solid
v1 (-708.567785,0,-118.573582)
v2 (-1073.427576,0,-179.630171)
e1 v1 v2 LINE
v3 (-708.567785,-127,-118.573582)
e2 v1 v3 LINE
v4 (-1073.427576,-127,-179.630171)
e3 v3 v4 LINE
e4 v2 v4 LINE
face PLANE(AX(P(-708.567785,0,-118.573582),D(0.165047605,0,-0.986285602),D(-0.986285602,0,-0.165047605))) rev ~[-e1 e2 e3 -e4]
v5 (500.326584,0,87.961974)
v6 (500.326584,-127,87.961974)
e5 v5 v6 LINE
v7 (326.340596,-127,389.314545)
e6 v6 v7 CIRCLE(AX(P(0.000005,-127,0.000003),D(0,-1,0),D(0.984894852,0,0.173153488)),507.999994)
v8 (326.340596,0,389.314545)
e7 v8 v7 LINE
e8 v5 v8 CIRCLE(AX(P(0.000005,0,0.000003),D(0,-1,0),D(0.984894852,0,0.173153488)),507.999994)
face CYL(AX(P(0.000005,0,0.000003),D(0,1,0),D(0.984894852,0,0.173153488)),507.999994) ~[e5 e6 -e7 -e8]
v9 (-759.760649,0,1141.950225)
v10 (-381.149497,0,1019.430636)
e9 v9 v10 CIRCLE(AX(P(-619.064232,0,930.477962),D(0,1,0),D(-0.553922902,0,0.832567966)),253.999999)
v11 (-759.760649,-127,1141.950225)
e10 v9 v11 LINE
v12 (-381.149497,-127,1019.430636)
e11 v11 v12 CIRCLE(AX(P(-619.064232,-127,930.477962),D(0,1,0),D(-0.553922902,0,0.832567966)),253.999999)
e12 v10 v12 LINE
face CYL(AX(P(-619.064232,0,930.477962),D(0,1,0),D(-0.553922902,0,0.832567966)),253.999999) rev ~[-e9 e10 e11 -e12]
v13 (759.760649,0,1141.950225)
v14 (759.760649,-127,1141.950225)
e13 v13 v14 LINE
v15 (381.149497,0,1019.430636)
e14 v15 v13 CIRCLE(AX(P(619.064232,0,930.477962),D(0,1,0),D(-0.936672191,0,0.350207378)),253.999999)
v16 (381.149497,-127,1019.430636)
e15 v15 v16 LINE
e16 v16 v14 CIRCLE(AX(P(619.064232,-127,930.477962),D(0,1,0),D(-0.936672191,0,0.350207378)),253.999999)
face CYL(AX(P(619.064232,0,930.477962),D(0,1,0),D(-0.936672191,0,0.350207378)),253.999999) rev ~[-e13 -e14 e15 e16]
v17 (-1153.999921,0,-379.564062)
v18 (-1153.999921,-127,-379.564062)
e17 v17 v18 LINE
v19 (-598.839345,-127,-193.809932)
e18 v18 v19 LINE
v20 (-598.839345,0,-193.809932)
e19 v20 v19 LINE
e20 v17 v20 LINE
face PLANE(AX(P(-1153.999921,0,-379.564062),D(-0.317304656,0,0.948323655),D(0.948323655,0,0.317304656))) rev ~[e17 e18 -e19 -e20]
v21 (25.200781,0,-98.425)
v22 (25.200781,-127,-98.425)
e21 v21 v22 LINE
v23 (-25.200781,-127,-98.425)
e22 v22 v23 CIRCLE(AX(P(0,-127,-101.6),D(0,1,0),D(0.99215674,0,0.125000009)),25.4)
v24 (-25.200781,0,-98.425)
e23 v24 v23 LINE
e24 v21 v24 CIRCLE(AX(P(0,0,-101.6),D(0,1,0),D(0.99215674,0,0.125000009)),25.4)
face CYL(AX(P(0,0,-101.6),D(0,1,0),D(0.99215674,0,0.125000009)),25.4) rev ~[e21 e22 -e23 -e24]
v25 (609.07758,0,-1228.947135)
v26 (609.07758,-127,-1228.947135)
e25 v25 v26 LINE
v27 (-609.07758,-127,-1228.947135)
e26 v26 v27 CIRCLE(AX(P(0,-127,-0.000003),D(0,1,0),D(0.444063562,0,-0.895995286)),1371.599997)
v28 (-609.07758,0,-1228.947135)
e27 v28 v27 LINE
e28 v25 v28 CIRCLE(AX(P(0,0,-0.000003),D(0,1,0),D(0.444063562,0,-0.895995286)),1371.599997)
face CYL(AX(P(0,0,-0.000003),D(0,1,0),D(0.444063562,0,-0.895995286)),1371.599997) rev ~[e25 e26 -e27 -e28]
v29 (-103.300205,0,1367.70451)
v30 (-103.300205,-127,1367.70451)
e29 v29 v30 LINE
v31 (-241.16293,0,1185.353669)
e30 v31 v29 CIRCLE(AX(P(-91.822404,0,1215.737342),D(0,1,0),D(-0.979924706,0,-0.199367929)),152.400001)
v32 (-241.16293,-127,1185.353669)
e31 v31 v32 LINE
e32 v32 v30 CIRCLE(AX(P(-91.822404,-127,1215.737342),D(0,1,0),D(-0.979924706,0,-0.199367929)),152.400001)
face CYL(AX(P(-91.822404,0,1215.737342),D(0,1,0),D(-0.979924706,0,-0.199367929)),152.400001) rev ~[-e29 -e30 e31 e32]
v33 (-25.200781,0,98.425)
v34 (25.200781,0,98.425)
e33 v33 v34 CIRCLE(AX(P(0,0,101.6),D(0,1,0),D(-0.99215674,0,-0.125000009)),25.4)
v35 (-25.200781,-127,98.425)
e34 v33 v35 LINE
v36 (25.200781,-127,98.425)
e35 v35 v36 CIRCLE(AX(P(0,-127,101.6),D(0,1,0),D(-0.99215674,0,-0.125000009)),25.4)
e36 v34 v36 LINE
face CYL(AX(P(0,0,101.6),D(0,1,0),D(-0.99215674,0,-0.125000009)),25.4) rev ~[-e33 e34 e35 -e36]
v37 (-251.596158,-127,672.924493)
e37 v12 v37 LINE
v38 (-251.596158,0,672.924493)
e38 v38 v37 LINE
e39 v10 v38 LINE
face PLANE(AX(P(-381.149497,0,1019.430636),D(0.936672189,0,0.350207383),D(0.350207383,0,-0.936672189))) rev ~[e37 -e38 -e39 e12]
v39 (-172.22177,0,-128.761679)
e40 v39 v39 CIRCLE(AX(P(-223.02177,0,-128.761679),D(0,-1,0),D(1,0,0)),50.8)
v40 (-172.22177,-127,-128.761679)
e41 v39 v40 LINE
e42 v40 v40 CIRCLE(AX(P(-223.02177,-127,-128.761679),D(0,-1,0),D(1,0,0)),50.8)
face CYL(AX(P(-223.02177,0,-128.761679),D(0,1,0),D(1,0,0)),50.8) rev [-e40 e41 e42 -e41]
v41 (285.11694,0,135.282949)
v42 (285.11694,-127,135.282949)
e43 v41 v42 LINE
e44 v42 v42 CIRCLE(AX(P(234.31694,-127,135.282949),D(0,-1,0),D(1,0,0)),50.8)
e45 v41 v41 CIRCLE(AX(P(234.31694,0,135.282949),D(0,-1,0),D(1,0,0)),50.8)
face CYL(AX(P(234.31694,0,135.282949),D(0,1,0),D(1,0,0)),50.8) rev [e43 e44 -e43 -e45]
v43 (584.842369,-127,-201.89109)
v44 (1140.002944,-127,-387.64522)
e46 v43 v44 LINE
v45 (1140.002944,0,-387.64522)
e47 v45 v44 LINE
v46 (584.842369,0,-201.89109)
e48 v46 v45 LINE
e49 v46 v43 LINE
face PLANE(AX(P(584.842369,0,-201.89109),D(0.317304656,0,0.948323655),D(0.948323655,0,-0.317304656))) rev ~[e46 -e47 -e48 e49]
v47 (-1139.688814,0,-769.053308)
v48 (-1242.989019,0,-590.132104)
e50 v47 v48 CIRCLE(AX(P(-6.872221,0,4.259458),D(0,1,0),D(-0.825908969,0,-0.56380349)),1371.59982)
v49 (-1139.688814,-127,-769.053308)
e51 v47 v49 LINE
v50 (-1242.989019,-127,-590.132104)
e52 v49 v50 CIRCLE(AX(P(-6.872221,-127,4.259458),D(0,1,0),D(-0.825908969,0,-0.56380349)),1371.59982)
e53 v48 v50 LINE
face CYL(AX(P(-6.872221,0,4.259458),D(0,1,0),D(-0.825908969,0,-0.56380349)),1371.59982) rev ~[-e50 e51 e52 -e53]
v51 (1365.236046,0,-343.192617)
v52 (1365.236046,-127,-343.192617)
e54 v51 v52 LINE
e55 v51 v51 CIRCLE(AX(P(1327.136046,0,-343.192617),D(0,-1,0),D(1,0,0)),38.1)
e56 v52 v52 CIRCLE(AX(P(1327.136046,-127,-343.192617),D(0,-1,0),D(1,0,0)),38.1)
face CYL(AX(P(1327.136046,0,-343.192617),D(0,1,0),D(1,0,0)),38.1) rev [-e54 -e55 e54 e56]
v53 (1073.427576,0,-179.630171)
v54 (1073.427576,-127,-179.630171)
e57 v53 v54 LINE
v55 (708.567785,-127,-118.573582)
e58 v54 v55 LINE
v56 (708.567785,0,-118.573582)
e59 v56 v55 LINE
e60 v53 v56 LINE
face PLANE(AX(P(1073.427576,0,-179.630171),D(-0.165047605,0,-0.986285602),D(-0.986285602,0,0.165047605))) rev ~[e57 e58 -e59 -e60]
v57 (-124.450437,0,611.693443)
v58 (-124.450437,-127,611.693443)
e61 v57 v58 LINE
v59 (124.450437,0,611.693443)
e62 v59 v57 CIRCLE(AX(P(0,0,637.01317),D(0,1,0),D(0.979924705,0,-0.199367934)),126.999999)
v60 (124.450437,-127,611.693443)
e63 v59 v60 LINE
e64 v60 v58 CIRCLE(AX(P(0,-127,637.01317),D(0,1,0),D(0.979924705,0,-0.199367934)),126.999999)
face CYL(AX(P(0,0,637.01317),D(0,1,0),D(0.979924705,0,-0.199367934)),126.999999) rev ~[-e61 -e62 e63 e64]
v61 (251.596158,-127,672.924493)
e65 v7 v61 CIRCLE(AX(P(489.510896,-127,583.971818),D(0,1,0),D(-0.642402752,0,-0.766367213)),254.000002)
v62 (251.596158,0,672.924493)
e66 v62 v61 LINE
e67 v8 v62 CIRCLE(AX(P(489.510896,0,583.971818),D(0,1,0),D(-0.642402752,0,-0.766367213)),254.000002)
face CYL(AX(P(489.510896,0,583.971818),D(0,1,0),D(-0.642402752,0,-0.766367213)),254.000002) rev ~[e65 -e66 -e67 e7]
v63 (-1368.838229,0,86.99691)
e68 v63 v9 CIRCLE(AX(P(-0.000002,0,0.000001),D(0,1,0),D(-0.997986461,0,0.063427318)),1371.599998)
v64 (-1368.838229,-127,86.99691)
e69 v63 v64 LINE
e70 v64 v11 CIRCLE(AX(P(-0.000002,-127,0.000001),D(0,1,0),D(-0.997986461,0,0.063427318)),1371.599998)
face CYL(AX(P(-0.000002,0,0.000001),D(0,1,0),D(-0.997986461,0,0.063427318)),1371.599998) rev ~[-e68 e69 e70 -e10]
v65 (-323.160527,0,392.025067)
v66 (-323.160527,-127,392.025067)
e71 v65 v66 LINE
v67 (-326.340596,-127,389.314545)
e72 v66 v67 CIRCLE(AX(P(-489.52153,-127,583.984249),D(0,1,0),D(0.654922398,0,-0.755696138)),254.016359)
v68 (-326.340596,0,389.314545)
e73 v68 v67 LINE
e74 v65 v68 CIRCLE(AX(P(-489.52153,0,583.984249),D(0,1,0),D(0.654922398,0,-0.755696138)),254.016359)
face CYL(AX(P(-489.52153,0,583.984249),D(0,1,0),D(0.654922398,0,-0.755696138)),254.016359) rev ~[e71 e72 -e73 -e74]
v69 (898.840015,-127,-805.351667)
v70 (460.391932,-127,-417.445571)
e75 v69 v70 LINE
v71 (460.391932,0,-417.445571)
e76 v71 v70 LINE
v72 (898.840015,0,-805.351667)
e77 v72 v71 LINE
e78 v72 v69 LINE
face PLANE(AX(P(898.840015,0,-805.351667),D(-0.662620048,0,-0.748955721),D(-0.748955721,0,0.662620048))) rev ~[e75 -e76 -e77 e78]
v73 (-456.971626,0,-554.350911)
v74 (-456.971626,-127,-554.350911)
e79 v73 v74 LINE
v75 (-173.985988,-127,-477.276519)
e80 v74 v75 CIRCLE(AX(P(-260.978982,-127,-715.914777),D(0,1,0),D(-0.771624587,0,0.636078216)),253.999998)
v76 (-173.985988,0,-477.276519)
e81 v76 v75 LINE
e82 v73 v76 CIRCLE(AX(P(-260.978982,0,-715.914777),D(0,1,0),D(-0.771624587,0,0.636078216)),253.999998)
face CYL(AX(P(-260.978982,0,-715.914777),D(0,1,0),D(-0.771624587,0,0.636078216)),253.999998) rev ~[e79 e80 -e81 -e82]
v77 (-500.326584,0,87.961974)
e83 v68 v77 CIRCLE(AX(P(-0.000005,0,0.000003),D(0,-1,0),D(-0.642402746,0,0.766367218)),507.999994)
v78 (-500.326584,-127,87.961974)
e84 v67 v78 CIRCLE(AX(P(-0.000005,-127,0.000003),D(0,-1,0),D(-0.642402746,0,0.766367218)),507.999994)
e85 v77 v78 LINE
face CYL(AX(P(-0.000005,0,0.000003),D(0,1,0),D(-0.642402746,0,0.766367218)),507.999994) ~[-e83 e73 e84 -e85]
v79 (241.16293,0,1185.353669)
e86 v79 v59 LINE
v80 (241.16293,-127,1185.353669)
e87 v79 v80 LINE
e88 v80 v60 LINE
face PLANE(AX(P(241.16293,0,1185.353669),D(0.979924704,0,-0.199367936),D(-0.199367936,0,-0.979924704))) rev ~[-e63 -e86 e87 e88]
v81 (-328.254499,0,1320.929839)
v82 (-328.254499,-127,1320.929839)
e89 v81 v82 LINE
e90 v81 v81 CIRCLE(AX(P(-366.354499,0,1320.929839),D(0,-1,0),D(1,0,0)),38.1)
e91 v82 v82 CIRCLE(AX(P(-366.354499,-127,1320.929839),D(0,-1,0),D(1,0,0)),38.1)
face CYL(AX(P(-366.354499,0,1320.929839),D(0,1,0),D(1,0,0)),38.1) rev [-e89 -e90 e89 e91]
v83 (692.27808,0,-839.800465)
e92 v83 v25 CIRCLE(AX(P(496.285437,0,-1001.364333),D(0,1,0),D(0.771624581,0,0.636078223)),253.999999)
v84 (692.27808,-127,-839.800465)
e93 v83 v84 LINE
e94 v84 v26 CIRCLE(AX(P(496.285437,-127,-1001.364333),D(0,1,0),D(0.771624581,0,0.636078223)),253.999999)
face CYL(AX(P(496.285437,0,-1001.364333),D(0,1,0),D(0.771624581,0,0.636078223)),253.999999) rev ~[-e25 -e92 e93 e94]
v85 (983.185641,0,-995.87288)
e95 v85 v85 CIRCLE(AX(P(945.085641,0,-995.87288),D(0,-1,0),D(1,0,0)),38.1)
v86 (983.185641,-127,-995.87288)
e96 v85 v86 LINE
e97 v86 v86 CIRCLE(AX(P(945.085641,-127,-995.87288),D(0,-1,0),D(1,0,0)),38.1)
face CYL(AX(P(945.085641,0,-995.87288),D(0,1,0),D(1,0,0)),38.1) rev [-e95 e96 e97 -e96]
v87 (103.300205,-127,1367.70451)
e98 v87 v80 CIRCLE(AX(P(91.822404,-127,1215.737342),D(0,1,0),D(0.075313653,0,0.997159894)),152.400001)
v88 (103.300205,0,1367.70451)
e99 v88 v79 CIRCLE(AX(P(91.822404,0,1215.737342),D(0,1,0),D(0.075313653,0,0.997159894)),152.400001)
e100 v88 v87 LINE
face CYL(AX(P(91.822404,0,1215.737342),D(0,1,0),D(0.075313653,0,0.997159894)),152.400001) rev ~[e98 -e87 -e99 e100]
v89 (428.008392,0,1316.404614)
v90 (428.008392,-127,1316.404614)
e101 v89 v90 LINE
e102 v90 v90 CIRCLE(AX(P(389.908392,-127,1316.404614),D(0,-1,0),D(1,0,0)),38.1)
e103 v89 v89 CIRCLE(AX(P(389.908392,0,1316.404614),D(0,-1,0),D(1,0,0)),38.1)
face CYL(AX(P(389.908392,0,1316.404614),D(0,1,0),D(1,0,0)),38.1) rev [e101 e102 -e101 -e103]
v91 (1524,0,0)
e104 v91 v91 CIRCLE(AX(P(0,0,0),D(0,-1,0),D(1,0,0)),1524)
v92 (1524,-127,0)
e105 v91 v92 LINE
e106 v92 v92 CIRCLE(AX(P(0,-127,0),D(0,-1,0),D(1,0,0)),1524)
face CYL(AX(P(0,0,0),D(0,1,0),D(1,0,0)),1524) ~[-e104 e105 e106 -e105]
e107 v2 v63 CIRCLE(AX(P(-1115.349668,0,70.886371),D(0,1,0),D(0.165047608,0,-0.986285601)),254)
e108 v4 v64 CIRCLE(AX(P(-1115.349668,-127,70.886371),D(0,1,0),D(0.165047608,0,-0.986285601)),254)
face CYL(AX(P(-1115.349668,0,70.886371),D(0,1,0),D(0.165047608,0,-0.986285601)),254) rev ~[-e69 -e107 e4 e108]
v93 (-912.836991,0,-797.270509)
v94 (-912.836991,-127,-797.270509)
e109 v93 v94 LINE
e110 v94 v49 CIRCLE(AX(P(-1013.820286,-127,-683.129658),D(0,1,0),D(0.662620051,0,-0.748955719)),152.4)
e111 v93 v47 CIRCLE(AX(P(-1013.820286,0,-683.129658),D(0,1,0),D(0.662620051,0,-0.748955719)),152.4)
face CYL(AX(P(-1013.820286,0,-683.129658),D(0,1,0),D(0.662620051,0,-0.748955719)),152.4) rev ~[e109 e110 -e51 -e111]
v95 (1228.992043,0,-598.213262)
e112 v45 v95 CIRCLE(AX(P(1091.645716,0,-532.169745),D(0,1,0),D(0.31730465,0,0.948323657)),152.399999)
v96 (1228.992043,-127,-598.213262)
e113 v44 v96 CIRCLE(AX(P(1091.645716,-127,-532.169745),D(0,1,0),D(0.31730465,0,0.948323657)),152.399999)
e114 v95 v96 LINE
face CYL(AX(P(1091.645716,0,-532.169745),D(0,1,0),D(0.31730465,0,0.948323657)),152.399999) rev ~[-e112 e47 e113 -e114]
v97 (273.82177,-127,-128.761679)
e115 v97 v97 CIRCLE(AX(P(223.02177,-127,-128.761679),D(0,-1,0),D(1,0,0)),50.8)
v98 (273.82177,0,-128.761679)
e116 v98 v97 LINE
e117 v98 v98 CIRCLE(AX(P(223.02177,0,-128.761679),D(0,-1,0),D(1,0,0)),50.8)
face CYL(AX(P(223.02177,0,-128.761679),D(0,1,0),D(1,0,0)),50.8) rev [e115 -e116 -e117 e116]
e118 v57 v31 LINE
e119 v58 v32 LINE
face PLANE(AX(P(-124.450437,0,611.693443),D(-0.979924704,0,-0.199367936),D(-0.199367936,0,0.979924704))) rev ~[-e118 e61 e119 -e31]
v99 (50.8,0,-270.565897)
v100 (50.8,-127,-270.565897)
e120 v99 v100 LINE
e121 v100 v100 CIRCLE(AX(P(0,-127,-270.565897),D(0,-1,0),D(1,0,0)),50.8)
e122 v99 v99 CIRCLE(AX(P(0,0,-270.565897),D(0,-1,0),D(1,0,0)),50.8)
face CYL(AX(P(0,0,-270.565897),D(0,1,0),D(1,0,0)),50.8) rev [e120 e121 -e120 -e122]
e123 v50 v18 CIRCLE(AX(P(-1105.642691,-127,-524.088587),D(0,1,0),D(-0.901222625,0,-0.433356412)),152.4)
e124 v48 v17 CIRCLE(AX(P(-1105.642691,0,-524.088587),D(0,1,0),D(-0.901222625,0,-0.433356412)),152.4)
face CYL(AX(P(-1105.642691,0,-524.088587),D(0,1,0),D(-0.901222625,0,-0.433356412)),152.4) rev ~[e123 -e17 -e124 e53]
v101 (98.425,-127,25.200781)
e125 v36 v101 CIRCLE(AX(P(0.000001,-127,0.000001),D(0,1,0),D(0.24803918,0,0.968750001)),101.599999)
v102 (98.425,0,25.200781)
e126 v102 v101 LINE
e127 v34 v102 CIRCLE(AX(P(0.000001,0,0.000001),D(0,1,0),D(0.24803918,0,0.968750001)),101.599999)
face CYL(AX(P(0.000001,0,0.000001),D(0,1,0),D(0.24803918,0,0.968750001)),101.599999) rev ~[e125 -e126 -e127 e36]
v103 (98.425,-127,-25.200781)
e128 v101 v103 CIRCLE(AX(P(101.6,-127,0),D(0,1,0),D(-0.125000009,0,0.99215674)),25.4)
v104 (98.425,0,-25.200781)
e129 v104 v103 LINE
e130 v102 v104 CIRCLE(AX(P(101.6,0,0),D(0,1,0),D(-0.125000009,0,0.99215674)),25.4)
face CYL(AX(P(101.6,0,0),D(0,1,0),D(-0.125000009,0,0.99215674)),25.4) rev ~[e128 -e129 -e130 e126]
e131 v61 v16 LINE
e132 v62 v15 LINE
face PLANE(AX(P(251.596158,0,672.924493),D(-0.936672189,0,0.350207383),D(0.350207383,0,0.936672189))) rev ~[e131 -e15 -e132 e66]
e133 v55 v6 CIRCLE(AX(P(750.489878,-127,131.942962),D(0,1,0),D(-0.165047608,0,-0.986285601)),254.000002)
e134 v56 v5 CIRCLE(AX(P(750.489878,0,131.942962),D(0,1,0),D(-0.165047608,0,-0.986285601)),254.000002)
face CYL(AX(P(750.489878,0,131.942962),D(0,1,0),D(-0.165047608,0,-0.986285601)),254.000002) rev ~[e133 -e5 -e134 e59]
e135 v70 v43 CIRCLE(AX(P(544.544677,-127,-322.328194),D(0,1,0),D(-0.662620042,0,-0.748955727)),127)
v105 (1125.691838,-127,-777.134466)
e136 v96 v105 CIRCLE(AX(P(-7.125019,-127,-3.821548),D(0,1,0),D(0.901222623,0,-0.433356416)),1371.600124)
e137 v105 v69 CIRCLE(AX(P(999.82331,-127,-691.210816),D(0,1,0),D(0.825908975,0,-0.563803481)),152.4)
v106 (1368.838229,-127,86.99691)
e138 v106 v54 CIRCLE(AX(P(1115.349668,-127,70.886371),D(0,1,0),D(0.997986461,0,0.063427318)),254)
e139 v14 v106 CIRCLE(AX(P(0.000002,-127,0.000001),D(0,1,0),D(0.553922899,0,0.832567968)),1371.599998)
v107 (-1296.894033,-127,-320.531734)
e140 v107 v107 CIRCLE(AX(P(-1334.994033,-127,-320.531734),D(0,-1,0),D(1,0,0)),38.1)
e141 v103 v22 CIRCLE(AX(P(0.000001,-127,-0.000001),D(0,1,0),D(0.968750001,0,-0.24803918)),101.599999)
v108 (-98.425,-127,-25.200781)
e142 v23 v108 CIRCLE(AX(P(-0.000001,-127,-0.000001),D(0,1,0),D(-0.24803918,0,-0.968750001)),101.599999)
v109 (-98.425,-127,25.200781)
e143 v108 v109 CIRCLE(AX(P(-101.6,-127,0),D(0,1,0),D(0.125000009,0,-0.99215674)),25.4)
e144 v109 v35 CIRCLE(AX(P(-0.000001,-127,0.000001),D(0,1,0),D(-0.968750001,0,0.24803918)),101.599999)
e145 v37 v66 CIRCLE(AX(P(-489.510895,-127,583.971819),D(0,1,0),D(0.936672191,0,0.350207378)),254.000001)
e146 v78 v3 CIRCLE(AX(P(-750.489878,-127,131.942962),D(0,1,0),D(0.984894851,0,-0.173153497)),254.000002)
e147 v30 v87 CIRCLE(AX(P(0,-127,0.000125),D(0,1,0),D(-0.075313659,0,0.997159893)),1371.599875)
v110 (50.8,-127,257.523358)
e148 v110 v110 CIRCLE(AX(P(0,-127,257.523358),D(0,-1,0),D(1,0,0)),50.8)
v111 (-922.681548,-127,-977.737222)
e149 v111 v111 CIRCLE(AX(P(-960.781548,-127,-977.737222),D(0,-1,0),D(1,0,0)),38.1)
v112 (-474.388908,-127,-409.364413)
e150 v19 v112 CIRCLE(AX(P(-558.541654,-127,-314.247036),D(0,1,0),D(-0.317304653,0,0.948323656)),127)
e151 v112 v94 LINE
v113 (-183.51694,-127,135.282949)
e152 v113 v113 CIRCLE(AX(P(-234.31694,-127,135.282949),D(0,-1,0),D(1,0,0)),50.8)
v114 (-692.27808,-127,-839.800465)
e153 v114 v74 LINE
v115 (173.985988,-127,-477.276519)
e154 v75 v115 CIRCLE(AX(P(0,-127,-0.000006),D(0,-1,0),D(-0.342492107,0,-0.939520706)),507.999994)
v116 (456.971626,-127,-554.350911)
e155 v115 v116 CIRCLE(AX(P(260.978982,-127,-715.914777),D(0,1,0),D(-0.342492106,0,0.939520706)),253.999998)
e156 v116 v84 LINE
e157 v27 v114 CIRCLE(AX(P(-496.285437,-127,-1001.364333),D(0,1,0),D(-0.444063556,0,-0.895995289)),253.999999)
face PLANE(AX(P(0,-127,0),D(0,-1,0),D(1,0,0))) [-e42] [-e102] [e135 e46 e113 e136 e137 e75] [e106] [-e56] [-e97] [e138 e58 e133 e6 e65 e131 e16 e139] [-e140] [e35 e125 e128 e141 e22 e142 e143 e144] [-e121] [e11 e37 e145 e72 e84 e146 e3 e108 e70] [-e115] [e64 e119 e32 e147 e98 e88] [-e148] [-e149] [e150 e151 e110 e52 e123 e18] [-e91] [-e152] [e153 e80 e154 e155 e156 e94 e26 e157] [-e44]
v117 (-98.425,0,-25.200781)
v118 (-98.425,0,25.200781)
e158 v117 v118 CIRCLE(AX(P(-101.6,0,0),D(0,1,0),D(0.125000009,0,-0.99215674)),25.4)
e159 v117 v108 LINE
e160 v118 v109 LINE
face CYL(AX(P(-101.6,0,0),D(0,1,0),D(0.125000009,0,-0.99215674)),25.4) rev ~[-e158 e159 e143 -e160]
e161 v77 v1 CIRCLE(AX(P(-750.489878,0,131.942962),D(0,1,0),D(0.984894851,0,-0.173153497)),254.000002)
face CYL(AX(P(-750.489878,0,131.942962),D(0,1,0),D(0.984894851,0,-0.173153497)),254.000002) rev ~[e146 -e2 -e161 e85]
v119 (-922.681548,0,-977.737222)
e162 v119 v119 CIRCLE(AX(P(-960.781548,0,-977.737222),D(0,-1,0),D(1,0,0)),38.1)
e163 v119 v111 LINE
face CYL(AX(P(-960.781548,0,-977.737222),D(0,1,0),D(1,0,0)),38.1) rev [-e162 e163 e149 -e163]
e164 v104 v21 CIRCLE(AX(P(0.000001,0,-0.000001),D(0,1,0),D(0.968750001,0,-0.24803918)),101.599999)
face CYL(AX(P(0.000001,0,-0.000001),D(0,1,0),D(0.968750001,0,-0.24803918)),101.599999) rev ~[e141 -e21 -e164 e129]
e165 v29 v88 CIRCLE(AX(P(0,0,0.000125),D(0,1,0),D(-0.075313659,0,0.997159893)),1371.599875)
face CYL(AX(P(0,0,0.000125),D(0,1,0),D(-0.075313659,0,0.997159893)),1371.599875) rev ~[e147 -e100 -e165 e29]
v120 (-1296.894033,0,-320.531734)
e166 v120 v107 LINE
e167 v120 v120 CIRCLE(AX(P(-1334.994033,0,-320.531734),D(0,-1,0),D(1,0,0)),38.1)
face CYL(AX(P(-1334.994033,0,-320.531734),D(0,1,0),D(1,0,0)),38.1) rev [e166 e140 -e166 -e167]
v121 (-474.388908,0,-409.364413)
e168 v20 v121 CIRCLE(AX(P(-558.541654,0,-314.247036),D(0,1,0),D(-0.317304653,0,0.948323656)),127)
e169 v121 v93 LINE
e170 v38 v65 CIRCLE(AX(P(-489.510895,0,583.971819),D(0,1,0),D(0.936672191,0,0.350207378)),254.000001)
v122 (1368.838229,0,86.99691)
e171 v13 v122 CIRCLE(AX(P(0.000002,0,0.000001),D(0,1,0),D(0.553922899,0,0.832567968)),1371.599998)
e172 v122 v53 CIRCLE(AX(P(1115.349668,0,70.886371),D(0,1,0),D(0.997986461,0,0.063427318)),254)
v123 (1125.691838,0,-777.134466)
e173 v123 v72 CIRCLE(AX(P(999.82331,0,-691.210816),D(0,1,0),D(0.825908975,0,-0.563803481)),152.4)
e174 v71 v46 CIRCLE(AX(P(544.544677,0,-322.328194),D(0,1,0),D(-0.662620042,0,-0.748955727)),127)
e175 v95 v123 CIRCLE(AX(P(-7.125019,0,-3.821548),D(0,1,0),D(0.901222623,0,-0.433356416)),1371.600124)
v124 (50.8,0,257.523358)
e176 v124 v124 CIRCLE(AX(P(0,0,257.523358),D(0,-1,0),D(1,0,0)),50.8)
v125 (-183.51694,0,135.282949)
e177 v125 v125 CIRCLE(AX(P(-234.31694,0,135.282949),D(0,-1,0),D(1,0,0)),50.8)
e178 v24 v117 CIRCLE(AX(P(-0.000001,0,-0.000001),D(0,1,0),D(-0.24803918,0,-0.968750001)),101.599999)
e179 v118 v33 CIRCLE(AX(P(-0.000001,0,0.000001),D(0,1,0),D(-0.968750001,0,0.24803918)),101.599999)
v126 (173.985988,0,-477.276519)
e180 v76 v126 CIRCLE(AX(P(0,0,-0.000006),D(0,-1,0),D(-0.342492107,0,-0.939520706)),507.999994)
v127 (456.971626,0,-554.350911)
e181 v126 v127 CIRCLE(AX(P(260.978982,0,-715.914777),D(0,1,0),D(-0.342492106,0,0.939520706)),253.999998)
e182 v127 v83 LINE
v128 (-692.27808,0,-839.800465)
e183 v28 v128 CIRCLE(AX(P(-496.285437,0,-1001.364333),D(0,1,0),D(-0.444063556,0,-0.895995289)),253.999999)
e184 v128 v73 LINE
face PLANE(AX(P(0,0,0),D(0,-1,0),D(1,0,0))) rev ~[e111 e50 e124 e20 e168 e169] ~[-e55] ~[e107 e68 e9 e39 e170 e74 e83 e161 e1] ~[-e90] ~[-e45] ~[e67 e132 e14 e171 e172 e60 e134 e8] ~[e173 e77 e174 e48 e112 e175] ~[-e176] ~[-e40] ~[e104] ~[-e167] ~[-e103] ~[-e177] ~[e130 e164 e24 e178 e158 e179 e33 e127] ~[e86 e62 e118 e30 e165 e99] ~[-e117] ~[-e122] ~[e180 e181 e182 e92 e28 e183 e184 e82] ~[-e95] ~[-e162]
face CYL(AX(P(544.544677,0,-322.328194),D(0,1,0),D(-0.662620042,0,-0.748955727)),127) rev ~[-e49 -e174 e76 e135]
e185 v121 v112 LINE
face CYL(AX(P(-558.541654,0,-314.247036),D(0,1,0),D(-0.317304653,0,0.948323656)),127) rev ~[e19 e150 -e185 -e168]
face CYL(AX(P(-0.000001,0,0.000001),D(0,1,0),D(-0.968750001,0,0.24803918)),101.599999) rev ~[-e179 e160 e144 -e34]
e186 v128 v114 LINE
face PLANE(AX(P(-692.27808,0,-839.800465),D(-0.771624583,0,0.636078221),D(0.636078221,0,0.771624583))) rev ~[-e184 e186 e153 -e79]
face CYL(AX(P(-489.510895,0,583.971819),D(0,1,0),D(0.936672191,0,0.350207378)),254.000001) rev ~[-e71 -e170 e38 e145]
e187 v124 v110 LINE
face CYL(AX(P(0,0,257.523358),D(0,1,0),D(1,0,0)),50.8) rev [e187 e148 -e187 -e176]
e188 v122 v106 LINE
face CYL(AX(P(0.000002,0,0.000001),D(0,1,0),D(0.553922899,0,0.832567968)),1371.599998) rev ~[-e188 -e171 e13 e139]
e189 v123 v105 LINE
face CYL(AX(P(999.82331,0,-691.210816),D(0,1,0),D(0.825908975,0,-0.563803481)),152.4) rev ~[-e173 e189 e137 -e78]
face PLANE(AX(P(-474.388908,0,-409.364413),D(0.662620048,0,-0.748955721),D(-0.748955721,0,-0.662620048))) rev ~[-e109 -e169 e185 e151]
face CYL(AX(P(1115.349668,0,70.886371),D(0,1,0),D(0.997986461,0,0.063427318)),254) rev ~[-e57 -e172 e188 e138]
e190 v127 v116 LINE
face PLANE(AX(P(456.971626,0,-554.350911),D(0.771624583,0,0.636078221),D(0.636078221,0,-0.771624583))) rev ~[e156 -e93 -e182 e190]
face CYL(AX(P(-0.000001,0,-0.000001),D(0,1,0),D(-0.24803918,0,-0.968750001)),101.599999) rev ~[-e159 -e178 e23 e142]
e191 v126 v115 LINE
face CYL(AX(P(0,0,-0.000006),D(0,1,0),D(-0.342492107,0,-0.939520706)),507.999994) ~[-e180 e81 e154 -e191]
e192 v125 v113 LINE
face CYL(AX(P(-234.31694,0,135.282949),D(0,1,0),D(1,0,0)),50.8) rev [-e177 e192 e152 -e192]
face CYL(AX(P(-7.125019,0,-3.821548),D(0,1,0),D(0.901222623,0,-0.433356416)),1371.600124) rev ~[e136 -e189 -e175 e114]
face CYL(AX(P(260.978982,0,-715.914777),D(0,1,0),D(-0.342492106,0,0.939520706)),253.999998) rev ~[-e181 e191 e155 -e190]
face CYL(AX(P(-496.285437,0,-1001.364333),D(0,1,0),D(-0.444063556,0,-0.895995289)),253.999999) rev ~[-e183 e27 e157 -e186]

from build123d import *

# Parameters (mm, degrees)
F0_R     = 1524
F0_R_2   = 38.1
F0_R_3   = 381
F0_R_4   = 50.8
F1_DEPTH = 127


with BuildPart() as f1:
    # F0 (on Front) → F1 (new body)
    with BuildSketch(Plane.XZ):
        Circle(F0_R)
        with Locations((-960.781548, -977.737222)):
            Circle(F0_R_2, mode=Mode.SUBTRACT)
        with BuildLine():
            ThreePointArc((-912.836991, -797.270509), (-1032.631754, -834.364206), (-1139.688814, -769.053308))
            ThreePointArc((-1139.688814, -769.053308), (-1194.71251, -681.540451), (-1242.989019, -590.132104))
            ThreePointArc((-1242.989019, -590.132104), (-1246.021386, -464.762522), (-1153.999921, -379.564062))
            Line((-1153.999921, -379.564062), (-598.839345, -193.809932))
            ThreePointArc((-598.839345, -193.809932), (-448.556428, -250.747036), (-474.388908, -409.364413))
            Line((-474.388908, -409.364413), (-912.836991, -797.270509))
        make_face(mode=Mode.SUBTRACT)
        with Locations((-1334.994033, -320.531734)):
            Circle(F0_R_2, mode=Mode.SUBTRACT)
        with BuildLine():
            Line((-692.27808, -839.800465), (-456.971626, -554.350911))
            ThreePointArc((-456.971626, -554.350911), (-327.727364, -470.842027), (-173.985988, -477.276519))
            ThreePointArc((-173.985988, -477.276519), (0, -508), (173.985988, -477.276519))
            ThreePointArc((173.985988, -477.276519), (327.727364, -470.842027), (456.971626, -554.350911))
            Line((456.971626, -554.350911), (692.27808, -839.800465))
            ThreePointArc((692.27808, -839.800465), (744.671817, -1054.469942), (609.07758, -1228.947135))
            ThreePointArc((609.07758, -1228.947135), (0, -1371.6), (-609.07758, -1228.947135))
            ThreePointArc((-609.07758, -1228.947135), (-744.671817, -1054.469942), (-692.27808, -839.800465))
        make_face(mode=Mode.SUBTRACT)
        with Locations((945.085641, -995.87288)):
            Circle(F0_R_2, mode=Mode.SUBTRACT)
        with BuildLine():
            ThreePointArc((1140.002944, -387.64522), (1232.02441, -472.84368), (1228.992043, -598.213262))
            ThreePointArc((1228.992043, -598.213262), (1180.715533, -689.621609), (1125.691838, -777.134466))
            ThreePointArc((1125.691838, -777.134466), (1018.634778, -842.445364), (898.840015, -805.351667))
            Line((898.840015, -805.351667), (460.391932, -417.445571))
            ThreePointArc((460.391932, -417.445571), (434.559451, -258.828194), (584.842369, -201.89109))
            Line((584.842369, -201.89109), (1140.002944, -387.64522))
        make_face(mode=Mode.SUBTRACT)
        with Locations((1327.136046, -343.192617)):
            Circle(F0_R_2, mode=Mode.SUBTRACT)
        with BuildLine():
            ThreePointArc((-1368.838229, 86.99691), (-1187.840444, 685.8), (-759.760649, 1141.950225))
            ThreePointArc((-759.760649, 1141.950225), (-540.861849, 1172.139682), (-381.149497, 1019.430636))
            Line((-381.149497, 1019.430636), (-251.596158, 672.924493))
            ThreePointArc((-251.596158, 672.924493), (-243.373351, 521.263687), (-323.160527, 392.025067))
            ThreePointArc((-323.160527, 392.025067), (-324.744988, 390.663267), (-326.340596, 389.314545))
            ThreePointArc((-326.340596, 389.314545), (-439.940905, 254), (-500.326584, 87.961974))
            ThreePointArc((-500.326584, 87.961974), (-571.624839, -48.399209), (-708.567785, -118.573582))
            Line((-708.567785, -118.573582), (-1073.427576, -179.630171))
            ThreePointArc((-1073.427576, -179.630171), (-1285.533665, -117.66974), (-1368.838229, 86.99691))
        make_face(mode=Mode.SUBTRACT)
        with BuildLine():
            ThreePointArc((124.450437, 611.693443), (0, 510.013171), (-124.450437, 611.693443))
            Line((-124.450437, 611.693443), (-241.16293, 1185.353669))
            ThreePointArc((-241.16293, 1185.353669), (-213.389632, 1307.645825), (-103.300205, 1367.70451))
            ThreePointArc((-103.300205, 1367.70451), (0, 1371.6), (103.300205, 1367.70451))
            ThreePointArc((103.300205, 1367.70451), (213.389632, 1307.645825), (241.16293, 1185.353669))
            Line((241.16293, 1185.353669), (124.450437, 611.693443))
        make_face(mode=Mode.SUBTRACT)
        with Locations((-366.354499, 1320.929839)):
            Circle(F0_R_2, mode=Mode.SUBTRACT)
        Circle(F0_R_3, mode=Mode.SUBTRACT)
        with BuildLine():
            ThreePointArc((708.567785, -118.573582), (571.624839, -48.399209), (500.326584, 87.961974))
            ThreePointArc((500.326584, 87.961974), (439.940905, 254), (326.340596, 389.314545))
            ThreePointArc((326.340596, 389.314545), (243.897475, 519.241236), (251.596158, 672.924493))
            Line((251.596158, 672.924493), (381.149497, 1019.430636))
            ThreePointArc((381.149497, 1019.430636), (540.861849, 1172.139682), (759.760649, 1141.950225))
            ThreePointArc((759.760649, 1141.950225), (1187.840444, 685.8), (1368.838229, 86.99691))
            ThreePointArc((1368.838229, 86.99691), (1285.533665, -117.66974), (1073.427576, -179.630171))
            Line((1073.427576, -179.630171), (708.567785, -118.573582))
        make_face(mode=Mode.SUBTRACT)
        with Locations((389.908392, 1316.404614)):
            Circle(F0_R_2, mode=Mode.SUBTRACT)
        Circle(F0_R_3)
        with Locations((-223.02177, -128.761679)):
            Circle(F0_R_4, mode=Mode.SUBTRACT)
        with Locations((0, -270.565897)):
            Circle(F0_R_4, mode=Mode.SUBTRACT)
        with Locations((223.02177, -128.761679)):
            Circle(F0_R_4, mode=Mode.SUBTRACT)
        with Locations((-234.31694, 135.282949)):
            Circle(F0_R_4, mode=Mode.SUBTRACT)
        with BuildLine():
            ThreePointArc((-25.200781, -98.425), (-71.842049, -71.842049), (-98.425, -25.200781))
            ThreePointArc((-98.425, -25.200781), (-127, 0), (-98.425, 25.200781))
            ThreePointArc((-98.425, 25.200781), (-71.842049, 71.842049), (-25.200781, 98.425))
            ThreePointArc((-25.200781, 98.425), (0, 127), (25.200781, 98.425))
            ThreePointArc((25.200781, 98.425), (71.842049, 71.842049), (98.425, 25.200781))
            ThreePointArc((98.425, 25.200781), (127, 0), (98.425, -25.200781))
            ThreePointArc((98.425, -25.200781), (71.842049, -71.842049), (25.200781, -98.425))
            ThreePointArc((25.200781, -98.425), (0, -127), (-25.200781, -98.425))
        make_face(mode=Mode.SUBTRACT)
        with Locations((234.31694, 135.282949)):
            Circle(F0_R_4, mode=Mode.SUBTRACT)
        with Locations((0, 257.523358)):
            Circle(F0_R_4, mode=Mode.SUBTRACT)
    extrude(amount=F1_DEPTH)


solid = f1.part
